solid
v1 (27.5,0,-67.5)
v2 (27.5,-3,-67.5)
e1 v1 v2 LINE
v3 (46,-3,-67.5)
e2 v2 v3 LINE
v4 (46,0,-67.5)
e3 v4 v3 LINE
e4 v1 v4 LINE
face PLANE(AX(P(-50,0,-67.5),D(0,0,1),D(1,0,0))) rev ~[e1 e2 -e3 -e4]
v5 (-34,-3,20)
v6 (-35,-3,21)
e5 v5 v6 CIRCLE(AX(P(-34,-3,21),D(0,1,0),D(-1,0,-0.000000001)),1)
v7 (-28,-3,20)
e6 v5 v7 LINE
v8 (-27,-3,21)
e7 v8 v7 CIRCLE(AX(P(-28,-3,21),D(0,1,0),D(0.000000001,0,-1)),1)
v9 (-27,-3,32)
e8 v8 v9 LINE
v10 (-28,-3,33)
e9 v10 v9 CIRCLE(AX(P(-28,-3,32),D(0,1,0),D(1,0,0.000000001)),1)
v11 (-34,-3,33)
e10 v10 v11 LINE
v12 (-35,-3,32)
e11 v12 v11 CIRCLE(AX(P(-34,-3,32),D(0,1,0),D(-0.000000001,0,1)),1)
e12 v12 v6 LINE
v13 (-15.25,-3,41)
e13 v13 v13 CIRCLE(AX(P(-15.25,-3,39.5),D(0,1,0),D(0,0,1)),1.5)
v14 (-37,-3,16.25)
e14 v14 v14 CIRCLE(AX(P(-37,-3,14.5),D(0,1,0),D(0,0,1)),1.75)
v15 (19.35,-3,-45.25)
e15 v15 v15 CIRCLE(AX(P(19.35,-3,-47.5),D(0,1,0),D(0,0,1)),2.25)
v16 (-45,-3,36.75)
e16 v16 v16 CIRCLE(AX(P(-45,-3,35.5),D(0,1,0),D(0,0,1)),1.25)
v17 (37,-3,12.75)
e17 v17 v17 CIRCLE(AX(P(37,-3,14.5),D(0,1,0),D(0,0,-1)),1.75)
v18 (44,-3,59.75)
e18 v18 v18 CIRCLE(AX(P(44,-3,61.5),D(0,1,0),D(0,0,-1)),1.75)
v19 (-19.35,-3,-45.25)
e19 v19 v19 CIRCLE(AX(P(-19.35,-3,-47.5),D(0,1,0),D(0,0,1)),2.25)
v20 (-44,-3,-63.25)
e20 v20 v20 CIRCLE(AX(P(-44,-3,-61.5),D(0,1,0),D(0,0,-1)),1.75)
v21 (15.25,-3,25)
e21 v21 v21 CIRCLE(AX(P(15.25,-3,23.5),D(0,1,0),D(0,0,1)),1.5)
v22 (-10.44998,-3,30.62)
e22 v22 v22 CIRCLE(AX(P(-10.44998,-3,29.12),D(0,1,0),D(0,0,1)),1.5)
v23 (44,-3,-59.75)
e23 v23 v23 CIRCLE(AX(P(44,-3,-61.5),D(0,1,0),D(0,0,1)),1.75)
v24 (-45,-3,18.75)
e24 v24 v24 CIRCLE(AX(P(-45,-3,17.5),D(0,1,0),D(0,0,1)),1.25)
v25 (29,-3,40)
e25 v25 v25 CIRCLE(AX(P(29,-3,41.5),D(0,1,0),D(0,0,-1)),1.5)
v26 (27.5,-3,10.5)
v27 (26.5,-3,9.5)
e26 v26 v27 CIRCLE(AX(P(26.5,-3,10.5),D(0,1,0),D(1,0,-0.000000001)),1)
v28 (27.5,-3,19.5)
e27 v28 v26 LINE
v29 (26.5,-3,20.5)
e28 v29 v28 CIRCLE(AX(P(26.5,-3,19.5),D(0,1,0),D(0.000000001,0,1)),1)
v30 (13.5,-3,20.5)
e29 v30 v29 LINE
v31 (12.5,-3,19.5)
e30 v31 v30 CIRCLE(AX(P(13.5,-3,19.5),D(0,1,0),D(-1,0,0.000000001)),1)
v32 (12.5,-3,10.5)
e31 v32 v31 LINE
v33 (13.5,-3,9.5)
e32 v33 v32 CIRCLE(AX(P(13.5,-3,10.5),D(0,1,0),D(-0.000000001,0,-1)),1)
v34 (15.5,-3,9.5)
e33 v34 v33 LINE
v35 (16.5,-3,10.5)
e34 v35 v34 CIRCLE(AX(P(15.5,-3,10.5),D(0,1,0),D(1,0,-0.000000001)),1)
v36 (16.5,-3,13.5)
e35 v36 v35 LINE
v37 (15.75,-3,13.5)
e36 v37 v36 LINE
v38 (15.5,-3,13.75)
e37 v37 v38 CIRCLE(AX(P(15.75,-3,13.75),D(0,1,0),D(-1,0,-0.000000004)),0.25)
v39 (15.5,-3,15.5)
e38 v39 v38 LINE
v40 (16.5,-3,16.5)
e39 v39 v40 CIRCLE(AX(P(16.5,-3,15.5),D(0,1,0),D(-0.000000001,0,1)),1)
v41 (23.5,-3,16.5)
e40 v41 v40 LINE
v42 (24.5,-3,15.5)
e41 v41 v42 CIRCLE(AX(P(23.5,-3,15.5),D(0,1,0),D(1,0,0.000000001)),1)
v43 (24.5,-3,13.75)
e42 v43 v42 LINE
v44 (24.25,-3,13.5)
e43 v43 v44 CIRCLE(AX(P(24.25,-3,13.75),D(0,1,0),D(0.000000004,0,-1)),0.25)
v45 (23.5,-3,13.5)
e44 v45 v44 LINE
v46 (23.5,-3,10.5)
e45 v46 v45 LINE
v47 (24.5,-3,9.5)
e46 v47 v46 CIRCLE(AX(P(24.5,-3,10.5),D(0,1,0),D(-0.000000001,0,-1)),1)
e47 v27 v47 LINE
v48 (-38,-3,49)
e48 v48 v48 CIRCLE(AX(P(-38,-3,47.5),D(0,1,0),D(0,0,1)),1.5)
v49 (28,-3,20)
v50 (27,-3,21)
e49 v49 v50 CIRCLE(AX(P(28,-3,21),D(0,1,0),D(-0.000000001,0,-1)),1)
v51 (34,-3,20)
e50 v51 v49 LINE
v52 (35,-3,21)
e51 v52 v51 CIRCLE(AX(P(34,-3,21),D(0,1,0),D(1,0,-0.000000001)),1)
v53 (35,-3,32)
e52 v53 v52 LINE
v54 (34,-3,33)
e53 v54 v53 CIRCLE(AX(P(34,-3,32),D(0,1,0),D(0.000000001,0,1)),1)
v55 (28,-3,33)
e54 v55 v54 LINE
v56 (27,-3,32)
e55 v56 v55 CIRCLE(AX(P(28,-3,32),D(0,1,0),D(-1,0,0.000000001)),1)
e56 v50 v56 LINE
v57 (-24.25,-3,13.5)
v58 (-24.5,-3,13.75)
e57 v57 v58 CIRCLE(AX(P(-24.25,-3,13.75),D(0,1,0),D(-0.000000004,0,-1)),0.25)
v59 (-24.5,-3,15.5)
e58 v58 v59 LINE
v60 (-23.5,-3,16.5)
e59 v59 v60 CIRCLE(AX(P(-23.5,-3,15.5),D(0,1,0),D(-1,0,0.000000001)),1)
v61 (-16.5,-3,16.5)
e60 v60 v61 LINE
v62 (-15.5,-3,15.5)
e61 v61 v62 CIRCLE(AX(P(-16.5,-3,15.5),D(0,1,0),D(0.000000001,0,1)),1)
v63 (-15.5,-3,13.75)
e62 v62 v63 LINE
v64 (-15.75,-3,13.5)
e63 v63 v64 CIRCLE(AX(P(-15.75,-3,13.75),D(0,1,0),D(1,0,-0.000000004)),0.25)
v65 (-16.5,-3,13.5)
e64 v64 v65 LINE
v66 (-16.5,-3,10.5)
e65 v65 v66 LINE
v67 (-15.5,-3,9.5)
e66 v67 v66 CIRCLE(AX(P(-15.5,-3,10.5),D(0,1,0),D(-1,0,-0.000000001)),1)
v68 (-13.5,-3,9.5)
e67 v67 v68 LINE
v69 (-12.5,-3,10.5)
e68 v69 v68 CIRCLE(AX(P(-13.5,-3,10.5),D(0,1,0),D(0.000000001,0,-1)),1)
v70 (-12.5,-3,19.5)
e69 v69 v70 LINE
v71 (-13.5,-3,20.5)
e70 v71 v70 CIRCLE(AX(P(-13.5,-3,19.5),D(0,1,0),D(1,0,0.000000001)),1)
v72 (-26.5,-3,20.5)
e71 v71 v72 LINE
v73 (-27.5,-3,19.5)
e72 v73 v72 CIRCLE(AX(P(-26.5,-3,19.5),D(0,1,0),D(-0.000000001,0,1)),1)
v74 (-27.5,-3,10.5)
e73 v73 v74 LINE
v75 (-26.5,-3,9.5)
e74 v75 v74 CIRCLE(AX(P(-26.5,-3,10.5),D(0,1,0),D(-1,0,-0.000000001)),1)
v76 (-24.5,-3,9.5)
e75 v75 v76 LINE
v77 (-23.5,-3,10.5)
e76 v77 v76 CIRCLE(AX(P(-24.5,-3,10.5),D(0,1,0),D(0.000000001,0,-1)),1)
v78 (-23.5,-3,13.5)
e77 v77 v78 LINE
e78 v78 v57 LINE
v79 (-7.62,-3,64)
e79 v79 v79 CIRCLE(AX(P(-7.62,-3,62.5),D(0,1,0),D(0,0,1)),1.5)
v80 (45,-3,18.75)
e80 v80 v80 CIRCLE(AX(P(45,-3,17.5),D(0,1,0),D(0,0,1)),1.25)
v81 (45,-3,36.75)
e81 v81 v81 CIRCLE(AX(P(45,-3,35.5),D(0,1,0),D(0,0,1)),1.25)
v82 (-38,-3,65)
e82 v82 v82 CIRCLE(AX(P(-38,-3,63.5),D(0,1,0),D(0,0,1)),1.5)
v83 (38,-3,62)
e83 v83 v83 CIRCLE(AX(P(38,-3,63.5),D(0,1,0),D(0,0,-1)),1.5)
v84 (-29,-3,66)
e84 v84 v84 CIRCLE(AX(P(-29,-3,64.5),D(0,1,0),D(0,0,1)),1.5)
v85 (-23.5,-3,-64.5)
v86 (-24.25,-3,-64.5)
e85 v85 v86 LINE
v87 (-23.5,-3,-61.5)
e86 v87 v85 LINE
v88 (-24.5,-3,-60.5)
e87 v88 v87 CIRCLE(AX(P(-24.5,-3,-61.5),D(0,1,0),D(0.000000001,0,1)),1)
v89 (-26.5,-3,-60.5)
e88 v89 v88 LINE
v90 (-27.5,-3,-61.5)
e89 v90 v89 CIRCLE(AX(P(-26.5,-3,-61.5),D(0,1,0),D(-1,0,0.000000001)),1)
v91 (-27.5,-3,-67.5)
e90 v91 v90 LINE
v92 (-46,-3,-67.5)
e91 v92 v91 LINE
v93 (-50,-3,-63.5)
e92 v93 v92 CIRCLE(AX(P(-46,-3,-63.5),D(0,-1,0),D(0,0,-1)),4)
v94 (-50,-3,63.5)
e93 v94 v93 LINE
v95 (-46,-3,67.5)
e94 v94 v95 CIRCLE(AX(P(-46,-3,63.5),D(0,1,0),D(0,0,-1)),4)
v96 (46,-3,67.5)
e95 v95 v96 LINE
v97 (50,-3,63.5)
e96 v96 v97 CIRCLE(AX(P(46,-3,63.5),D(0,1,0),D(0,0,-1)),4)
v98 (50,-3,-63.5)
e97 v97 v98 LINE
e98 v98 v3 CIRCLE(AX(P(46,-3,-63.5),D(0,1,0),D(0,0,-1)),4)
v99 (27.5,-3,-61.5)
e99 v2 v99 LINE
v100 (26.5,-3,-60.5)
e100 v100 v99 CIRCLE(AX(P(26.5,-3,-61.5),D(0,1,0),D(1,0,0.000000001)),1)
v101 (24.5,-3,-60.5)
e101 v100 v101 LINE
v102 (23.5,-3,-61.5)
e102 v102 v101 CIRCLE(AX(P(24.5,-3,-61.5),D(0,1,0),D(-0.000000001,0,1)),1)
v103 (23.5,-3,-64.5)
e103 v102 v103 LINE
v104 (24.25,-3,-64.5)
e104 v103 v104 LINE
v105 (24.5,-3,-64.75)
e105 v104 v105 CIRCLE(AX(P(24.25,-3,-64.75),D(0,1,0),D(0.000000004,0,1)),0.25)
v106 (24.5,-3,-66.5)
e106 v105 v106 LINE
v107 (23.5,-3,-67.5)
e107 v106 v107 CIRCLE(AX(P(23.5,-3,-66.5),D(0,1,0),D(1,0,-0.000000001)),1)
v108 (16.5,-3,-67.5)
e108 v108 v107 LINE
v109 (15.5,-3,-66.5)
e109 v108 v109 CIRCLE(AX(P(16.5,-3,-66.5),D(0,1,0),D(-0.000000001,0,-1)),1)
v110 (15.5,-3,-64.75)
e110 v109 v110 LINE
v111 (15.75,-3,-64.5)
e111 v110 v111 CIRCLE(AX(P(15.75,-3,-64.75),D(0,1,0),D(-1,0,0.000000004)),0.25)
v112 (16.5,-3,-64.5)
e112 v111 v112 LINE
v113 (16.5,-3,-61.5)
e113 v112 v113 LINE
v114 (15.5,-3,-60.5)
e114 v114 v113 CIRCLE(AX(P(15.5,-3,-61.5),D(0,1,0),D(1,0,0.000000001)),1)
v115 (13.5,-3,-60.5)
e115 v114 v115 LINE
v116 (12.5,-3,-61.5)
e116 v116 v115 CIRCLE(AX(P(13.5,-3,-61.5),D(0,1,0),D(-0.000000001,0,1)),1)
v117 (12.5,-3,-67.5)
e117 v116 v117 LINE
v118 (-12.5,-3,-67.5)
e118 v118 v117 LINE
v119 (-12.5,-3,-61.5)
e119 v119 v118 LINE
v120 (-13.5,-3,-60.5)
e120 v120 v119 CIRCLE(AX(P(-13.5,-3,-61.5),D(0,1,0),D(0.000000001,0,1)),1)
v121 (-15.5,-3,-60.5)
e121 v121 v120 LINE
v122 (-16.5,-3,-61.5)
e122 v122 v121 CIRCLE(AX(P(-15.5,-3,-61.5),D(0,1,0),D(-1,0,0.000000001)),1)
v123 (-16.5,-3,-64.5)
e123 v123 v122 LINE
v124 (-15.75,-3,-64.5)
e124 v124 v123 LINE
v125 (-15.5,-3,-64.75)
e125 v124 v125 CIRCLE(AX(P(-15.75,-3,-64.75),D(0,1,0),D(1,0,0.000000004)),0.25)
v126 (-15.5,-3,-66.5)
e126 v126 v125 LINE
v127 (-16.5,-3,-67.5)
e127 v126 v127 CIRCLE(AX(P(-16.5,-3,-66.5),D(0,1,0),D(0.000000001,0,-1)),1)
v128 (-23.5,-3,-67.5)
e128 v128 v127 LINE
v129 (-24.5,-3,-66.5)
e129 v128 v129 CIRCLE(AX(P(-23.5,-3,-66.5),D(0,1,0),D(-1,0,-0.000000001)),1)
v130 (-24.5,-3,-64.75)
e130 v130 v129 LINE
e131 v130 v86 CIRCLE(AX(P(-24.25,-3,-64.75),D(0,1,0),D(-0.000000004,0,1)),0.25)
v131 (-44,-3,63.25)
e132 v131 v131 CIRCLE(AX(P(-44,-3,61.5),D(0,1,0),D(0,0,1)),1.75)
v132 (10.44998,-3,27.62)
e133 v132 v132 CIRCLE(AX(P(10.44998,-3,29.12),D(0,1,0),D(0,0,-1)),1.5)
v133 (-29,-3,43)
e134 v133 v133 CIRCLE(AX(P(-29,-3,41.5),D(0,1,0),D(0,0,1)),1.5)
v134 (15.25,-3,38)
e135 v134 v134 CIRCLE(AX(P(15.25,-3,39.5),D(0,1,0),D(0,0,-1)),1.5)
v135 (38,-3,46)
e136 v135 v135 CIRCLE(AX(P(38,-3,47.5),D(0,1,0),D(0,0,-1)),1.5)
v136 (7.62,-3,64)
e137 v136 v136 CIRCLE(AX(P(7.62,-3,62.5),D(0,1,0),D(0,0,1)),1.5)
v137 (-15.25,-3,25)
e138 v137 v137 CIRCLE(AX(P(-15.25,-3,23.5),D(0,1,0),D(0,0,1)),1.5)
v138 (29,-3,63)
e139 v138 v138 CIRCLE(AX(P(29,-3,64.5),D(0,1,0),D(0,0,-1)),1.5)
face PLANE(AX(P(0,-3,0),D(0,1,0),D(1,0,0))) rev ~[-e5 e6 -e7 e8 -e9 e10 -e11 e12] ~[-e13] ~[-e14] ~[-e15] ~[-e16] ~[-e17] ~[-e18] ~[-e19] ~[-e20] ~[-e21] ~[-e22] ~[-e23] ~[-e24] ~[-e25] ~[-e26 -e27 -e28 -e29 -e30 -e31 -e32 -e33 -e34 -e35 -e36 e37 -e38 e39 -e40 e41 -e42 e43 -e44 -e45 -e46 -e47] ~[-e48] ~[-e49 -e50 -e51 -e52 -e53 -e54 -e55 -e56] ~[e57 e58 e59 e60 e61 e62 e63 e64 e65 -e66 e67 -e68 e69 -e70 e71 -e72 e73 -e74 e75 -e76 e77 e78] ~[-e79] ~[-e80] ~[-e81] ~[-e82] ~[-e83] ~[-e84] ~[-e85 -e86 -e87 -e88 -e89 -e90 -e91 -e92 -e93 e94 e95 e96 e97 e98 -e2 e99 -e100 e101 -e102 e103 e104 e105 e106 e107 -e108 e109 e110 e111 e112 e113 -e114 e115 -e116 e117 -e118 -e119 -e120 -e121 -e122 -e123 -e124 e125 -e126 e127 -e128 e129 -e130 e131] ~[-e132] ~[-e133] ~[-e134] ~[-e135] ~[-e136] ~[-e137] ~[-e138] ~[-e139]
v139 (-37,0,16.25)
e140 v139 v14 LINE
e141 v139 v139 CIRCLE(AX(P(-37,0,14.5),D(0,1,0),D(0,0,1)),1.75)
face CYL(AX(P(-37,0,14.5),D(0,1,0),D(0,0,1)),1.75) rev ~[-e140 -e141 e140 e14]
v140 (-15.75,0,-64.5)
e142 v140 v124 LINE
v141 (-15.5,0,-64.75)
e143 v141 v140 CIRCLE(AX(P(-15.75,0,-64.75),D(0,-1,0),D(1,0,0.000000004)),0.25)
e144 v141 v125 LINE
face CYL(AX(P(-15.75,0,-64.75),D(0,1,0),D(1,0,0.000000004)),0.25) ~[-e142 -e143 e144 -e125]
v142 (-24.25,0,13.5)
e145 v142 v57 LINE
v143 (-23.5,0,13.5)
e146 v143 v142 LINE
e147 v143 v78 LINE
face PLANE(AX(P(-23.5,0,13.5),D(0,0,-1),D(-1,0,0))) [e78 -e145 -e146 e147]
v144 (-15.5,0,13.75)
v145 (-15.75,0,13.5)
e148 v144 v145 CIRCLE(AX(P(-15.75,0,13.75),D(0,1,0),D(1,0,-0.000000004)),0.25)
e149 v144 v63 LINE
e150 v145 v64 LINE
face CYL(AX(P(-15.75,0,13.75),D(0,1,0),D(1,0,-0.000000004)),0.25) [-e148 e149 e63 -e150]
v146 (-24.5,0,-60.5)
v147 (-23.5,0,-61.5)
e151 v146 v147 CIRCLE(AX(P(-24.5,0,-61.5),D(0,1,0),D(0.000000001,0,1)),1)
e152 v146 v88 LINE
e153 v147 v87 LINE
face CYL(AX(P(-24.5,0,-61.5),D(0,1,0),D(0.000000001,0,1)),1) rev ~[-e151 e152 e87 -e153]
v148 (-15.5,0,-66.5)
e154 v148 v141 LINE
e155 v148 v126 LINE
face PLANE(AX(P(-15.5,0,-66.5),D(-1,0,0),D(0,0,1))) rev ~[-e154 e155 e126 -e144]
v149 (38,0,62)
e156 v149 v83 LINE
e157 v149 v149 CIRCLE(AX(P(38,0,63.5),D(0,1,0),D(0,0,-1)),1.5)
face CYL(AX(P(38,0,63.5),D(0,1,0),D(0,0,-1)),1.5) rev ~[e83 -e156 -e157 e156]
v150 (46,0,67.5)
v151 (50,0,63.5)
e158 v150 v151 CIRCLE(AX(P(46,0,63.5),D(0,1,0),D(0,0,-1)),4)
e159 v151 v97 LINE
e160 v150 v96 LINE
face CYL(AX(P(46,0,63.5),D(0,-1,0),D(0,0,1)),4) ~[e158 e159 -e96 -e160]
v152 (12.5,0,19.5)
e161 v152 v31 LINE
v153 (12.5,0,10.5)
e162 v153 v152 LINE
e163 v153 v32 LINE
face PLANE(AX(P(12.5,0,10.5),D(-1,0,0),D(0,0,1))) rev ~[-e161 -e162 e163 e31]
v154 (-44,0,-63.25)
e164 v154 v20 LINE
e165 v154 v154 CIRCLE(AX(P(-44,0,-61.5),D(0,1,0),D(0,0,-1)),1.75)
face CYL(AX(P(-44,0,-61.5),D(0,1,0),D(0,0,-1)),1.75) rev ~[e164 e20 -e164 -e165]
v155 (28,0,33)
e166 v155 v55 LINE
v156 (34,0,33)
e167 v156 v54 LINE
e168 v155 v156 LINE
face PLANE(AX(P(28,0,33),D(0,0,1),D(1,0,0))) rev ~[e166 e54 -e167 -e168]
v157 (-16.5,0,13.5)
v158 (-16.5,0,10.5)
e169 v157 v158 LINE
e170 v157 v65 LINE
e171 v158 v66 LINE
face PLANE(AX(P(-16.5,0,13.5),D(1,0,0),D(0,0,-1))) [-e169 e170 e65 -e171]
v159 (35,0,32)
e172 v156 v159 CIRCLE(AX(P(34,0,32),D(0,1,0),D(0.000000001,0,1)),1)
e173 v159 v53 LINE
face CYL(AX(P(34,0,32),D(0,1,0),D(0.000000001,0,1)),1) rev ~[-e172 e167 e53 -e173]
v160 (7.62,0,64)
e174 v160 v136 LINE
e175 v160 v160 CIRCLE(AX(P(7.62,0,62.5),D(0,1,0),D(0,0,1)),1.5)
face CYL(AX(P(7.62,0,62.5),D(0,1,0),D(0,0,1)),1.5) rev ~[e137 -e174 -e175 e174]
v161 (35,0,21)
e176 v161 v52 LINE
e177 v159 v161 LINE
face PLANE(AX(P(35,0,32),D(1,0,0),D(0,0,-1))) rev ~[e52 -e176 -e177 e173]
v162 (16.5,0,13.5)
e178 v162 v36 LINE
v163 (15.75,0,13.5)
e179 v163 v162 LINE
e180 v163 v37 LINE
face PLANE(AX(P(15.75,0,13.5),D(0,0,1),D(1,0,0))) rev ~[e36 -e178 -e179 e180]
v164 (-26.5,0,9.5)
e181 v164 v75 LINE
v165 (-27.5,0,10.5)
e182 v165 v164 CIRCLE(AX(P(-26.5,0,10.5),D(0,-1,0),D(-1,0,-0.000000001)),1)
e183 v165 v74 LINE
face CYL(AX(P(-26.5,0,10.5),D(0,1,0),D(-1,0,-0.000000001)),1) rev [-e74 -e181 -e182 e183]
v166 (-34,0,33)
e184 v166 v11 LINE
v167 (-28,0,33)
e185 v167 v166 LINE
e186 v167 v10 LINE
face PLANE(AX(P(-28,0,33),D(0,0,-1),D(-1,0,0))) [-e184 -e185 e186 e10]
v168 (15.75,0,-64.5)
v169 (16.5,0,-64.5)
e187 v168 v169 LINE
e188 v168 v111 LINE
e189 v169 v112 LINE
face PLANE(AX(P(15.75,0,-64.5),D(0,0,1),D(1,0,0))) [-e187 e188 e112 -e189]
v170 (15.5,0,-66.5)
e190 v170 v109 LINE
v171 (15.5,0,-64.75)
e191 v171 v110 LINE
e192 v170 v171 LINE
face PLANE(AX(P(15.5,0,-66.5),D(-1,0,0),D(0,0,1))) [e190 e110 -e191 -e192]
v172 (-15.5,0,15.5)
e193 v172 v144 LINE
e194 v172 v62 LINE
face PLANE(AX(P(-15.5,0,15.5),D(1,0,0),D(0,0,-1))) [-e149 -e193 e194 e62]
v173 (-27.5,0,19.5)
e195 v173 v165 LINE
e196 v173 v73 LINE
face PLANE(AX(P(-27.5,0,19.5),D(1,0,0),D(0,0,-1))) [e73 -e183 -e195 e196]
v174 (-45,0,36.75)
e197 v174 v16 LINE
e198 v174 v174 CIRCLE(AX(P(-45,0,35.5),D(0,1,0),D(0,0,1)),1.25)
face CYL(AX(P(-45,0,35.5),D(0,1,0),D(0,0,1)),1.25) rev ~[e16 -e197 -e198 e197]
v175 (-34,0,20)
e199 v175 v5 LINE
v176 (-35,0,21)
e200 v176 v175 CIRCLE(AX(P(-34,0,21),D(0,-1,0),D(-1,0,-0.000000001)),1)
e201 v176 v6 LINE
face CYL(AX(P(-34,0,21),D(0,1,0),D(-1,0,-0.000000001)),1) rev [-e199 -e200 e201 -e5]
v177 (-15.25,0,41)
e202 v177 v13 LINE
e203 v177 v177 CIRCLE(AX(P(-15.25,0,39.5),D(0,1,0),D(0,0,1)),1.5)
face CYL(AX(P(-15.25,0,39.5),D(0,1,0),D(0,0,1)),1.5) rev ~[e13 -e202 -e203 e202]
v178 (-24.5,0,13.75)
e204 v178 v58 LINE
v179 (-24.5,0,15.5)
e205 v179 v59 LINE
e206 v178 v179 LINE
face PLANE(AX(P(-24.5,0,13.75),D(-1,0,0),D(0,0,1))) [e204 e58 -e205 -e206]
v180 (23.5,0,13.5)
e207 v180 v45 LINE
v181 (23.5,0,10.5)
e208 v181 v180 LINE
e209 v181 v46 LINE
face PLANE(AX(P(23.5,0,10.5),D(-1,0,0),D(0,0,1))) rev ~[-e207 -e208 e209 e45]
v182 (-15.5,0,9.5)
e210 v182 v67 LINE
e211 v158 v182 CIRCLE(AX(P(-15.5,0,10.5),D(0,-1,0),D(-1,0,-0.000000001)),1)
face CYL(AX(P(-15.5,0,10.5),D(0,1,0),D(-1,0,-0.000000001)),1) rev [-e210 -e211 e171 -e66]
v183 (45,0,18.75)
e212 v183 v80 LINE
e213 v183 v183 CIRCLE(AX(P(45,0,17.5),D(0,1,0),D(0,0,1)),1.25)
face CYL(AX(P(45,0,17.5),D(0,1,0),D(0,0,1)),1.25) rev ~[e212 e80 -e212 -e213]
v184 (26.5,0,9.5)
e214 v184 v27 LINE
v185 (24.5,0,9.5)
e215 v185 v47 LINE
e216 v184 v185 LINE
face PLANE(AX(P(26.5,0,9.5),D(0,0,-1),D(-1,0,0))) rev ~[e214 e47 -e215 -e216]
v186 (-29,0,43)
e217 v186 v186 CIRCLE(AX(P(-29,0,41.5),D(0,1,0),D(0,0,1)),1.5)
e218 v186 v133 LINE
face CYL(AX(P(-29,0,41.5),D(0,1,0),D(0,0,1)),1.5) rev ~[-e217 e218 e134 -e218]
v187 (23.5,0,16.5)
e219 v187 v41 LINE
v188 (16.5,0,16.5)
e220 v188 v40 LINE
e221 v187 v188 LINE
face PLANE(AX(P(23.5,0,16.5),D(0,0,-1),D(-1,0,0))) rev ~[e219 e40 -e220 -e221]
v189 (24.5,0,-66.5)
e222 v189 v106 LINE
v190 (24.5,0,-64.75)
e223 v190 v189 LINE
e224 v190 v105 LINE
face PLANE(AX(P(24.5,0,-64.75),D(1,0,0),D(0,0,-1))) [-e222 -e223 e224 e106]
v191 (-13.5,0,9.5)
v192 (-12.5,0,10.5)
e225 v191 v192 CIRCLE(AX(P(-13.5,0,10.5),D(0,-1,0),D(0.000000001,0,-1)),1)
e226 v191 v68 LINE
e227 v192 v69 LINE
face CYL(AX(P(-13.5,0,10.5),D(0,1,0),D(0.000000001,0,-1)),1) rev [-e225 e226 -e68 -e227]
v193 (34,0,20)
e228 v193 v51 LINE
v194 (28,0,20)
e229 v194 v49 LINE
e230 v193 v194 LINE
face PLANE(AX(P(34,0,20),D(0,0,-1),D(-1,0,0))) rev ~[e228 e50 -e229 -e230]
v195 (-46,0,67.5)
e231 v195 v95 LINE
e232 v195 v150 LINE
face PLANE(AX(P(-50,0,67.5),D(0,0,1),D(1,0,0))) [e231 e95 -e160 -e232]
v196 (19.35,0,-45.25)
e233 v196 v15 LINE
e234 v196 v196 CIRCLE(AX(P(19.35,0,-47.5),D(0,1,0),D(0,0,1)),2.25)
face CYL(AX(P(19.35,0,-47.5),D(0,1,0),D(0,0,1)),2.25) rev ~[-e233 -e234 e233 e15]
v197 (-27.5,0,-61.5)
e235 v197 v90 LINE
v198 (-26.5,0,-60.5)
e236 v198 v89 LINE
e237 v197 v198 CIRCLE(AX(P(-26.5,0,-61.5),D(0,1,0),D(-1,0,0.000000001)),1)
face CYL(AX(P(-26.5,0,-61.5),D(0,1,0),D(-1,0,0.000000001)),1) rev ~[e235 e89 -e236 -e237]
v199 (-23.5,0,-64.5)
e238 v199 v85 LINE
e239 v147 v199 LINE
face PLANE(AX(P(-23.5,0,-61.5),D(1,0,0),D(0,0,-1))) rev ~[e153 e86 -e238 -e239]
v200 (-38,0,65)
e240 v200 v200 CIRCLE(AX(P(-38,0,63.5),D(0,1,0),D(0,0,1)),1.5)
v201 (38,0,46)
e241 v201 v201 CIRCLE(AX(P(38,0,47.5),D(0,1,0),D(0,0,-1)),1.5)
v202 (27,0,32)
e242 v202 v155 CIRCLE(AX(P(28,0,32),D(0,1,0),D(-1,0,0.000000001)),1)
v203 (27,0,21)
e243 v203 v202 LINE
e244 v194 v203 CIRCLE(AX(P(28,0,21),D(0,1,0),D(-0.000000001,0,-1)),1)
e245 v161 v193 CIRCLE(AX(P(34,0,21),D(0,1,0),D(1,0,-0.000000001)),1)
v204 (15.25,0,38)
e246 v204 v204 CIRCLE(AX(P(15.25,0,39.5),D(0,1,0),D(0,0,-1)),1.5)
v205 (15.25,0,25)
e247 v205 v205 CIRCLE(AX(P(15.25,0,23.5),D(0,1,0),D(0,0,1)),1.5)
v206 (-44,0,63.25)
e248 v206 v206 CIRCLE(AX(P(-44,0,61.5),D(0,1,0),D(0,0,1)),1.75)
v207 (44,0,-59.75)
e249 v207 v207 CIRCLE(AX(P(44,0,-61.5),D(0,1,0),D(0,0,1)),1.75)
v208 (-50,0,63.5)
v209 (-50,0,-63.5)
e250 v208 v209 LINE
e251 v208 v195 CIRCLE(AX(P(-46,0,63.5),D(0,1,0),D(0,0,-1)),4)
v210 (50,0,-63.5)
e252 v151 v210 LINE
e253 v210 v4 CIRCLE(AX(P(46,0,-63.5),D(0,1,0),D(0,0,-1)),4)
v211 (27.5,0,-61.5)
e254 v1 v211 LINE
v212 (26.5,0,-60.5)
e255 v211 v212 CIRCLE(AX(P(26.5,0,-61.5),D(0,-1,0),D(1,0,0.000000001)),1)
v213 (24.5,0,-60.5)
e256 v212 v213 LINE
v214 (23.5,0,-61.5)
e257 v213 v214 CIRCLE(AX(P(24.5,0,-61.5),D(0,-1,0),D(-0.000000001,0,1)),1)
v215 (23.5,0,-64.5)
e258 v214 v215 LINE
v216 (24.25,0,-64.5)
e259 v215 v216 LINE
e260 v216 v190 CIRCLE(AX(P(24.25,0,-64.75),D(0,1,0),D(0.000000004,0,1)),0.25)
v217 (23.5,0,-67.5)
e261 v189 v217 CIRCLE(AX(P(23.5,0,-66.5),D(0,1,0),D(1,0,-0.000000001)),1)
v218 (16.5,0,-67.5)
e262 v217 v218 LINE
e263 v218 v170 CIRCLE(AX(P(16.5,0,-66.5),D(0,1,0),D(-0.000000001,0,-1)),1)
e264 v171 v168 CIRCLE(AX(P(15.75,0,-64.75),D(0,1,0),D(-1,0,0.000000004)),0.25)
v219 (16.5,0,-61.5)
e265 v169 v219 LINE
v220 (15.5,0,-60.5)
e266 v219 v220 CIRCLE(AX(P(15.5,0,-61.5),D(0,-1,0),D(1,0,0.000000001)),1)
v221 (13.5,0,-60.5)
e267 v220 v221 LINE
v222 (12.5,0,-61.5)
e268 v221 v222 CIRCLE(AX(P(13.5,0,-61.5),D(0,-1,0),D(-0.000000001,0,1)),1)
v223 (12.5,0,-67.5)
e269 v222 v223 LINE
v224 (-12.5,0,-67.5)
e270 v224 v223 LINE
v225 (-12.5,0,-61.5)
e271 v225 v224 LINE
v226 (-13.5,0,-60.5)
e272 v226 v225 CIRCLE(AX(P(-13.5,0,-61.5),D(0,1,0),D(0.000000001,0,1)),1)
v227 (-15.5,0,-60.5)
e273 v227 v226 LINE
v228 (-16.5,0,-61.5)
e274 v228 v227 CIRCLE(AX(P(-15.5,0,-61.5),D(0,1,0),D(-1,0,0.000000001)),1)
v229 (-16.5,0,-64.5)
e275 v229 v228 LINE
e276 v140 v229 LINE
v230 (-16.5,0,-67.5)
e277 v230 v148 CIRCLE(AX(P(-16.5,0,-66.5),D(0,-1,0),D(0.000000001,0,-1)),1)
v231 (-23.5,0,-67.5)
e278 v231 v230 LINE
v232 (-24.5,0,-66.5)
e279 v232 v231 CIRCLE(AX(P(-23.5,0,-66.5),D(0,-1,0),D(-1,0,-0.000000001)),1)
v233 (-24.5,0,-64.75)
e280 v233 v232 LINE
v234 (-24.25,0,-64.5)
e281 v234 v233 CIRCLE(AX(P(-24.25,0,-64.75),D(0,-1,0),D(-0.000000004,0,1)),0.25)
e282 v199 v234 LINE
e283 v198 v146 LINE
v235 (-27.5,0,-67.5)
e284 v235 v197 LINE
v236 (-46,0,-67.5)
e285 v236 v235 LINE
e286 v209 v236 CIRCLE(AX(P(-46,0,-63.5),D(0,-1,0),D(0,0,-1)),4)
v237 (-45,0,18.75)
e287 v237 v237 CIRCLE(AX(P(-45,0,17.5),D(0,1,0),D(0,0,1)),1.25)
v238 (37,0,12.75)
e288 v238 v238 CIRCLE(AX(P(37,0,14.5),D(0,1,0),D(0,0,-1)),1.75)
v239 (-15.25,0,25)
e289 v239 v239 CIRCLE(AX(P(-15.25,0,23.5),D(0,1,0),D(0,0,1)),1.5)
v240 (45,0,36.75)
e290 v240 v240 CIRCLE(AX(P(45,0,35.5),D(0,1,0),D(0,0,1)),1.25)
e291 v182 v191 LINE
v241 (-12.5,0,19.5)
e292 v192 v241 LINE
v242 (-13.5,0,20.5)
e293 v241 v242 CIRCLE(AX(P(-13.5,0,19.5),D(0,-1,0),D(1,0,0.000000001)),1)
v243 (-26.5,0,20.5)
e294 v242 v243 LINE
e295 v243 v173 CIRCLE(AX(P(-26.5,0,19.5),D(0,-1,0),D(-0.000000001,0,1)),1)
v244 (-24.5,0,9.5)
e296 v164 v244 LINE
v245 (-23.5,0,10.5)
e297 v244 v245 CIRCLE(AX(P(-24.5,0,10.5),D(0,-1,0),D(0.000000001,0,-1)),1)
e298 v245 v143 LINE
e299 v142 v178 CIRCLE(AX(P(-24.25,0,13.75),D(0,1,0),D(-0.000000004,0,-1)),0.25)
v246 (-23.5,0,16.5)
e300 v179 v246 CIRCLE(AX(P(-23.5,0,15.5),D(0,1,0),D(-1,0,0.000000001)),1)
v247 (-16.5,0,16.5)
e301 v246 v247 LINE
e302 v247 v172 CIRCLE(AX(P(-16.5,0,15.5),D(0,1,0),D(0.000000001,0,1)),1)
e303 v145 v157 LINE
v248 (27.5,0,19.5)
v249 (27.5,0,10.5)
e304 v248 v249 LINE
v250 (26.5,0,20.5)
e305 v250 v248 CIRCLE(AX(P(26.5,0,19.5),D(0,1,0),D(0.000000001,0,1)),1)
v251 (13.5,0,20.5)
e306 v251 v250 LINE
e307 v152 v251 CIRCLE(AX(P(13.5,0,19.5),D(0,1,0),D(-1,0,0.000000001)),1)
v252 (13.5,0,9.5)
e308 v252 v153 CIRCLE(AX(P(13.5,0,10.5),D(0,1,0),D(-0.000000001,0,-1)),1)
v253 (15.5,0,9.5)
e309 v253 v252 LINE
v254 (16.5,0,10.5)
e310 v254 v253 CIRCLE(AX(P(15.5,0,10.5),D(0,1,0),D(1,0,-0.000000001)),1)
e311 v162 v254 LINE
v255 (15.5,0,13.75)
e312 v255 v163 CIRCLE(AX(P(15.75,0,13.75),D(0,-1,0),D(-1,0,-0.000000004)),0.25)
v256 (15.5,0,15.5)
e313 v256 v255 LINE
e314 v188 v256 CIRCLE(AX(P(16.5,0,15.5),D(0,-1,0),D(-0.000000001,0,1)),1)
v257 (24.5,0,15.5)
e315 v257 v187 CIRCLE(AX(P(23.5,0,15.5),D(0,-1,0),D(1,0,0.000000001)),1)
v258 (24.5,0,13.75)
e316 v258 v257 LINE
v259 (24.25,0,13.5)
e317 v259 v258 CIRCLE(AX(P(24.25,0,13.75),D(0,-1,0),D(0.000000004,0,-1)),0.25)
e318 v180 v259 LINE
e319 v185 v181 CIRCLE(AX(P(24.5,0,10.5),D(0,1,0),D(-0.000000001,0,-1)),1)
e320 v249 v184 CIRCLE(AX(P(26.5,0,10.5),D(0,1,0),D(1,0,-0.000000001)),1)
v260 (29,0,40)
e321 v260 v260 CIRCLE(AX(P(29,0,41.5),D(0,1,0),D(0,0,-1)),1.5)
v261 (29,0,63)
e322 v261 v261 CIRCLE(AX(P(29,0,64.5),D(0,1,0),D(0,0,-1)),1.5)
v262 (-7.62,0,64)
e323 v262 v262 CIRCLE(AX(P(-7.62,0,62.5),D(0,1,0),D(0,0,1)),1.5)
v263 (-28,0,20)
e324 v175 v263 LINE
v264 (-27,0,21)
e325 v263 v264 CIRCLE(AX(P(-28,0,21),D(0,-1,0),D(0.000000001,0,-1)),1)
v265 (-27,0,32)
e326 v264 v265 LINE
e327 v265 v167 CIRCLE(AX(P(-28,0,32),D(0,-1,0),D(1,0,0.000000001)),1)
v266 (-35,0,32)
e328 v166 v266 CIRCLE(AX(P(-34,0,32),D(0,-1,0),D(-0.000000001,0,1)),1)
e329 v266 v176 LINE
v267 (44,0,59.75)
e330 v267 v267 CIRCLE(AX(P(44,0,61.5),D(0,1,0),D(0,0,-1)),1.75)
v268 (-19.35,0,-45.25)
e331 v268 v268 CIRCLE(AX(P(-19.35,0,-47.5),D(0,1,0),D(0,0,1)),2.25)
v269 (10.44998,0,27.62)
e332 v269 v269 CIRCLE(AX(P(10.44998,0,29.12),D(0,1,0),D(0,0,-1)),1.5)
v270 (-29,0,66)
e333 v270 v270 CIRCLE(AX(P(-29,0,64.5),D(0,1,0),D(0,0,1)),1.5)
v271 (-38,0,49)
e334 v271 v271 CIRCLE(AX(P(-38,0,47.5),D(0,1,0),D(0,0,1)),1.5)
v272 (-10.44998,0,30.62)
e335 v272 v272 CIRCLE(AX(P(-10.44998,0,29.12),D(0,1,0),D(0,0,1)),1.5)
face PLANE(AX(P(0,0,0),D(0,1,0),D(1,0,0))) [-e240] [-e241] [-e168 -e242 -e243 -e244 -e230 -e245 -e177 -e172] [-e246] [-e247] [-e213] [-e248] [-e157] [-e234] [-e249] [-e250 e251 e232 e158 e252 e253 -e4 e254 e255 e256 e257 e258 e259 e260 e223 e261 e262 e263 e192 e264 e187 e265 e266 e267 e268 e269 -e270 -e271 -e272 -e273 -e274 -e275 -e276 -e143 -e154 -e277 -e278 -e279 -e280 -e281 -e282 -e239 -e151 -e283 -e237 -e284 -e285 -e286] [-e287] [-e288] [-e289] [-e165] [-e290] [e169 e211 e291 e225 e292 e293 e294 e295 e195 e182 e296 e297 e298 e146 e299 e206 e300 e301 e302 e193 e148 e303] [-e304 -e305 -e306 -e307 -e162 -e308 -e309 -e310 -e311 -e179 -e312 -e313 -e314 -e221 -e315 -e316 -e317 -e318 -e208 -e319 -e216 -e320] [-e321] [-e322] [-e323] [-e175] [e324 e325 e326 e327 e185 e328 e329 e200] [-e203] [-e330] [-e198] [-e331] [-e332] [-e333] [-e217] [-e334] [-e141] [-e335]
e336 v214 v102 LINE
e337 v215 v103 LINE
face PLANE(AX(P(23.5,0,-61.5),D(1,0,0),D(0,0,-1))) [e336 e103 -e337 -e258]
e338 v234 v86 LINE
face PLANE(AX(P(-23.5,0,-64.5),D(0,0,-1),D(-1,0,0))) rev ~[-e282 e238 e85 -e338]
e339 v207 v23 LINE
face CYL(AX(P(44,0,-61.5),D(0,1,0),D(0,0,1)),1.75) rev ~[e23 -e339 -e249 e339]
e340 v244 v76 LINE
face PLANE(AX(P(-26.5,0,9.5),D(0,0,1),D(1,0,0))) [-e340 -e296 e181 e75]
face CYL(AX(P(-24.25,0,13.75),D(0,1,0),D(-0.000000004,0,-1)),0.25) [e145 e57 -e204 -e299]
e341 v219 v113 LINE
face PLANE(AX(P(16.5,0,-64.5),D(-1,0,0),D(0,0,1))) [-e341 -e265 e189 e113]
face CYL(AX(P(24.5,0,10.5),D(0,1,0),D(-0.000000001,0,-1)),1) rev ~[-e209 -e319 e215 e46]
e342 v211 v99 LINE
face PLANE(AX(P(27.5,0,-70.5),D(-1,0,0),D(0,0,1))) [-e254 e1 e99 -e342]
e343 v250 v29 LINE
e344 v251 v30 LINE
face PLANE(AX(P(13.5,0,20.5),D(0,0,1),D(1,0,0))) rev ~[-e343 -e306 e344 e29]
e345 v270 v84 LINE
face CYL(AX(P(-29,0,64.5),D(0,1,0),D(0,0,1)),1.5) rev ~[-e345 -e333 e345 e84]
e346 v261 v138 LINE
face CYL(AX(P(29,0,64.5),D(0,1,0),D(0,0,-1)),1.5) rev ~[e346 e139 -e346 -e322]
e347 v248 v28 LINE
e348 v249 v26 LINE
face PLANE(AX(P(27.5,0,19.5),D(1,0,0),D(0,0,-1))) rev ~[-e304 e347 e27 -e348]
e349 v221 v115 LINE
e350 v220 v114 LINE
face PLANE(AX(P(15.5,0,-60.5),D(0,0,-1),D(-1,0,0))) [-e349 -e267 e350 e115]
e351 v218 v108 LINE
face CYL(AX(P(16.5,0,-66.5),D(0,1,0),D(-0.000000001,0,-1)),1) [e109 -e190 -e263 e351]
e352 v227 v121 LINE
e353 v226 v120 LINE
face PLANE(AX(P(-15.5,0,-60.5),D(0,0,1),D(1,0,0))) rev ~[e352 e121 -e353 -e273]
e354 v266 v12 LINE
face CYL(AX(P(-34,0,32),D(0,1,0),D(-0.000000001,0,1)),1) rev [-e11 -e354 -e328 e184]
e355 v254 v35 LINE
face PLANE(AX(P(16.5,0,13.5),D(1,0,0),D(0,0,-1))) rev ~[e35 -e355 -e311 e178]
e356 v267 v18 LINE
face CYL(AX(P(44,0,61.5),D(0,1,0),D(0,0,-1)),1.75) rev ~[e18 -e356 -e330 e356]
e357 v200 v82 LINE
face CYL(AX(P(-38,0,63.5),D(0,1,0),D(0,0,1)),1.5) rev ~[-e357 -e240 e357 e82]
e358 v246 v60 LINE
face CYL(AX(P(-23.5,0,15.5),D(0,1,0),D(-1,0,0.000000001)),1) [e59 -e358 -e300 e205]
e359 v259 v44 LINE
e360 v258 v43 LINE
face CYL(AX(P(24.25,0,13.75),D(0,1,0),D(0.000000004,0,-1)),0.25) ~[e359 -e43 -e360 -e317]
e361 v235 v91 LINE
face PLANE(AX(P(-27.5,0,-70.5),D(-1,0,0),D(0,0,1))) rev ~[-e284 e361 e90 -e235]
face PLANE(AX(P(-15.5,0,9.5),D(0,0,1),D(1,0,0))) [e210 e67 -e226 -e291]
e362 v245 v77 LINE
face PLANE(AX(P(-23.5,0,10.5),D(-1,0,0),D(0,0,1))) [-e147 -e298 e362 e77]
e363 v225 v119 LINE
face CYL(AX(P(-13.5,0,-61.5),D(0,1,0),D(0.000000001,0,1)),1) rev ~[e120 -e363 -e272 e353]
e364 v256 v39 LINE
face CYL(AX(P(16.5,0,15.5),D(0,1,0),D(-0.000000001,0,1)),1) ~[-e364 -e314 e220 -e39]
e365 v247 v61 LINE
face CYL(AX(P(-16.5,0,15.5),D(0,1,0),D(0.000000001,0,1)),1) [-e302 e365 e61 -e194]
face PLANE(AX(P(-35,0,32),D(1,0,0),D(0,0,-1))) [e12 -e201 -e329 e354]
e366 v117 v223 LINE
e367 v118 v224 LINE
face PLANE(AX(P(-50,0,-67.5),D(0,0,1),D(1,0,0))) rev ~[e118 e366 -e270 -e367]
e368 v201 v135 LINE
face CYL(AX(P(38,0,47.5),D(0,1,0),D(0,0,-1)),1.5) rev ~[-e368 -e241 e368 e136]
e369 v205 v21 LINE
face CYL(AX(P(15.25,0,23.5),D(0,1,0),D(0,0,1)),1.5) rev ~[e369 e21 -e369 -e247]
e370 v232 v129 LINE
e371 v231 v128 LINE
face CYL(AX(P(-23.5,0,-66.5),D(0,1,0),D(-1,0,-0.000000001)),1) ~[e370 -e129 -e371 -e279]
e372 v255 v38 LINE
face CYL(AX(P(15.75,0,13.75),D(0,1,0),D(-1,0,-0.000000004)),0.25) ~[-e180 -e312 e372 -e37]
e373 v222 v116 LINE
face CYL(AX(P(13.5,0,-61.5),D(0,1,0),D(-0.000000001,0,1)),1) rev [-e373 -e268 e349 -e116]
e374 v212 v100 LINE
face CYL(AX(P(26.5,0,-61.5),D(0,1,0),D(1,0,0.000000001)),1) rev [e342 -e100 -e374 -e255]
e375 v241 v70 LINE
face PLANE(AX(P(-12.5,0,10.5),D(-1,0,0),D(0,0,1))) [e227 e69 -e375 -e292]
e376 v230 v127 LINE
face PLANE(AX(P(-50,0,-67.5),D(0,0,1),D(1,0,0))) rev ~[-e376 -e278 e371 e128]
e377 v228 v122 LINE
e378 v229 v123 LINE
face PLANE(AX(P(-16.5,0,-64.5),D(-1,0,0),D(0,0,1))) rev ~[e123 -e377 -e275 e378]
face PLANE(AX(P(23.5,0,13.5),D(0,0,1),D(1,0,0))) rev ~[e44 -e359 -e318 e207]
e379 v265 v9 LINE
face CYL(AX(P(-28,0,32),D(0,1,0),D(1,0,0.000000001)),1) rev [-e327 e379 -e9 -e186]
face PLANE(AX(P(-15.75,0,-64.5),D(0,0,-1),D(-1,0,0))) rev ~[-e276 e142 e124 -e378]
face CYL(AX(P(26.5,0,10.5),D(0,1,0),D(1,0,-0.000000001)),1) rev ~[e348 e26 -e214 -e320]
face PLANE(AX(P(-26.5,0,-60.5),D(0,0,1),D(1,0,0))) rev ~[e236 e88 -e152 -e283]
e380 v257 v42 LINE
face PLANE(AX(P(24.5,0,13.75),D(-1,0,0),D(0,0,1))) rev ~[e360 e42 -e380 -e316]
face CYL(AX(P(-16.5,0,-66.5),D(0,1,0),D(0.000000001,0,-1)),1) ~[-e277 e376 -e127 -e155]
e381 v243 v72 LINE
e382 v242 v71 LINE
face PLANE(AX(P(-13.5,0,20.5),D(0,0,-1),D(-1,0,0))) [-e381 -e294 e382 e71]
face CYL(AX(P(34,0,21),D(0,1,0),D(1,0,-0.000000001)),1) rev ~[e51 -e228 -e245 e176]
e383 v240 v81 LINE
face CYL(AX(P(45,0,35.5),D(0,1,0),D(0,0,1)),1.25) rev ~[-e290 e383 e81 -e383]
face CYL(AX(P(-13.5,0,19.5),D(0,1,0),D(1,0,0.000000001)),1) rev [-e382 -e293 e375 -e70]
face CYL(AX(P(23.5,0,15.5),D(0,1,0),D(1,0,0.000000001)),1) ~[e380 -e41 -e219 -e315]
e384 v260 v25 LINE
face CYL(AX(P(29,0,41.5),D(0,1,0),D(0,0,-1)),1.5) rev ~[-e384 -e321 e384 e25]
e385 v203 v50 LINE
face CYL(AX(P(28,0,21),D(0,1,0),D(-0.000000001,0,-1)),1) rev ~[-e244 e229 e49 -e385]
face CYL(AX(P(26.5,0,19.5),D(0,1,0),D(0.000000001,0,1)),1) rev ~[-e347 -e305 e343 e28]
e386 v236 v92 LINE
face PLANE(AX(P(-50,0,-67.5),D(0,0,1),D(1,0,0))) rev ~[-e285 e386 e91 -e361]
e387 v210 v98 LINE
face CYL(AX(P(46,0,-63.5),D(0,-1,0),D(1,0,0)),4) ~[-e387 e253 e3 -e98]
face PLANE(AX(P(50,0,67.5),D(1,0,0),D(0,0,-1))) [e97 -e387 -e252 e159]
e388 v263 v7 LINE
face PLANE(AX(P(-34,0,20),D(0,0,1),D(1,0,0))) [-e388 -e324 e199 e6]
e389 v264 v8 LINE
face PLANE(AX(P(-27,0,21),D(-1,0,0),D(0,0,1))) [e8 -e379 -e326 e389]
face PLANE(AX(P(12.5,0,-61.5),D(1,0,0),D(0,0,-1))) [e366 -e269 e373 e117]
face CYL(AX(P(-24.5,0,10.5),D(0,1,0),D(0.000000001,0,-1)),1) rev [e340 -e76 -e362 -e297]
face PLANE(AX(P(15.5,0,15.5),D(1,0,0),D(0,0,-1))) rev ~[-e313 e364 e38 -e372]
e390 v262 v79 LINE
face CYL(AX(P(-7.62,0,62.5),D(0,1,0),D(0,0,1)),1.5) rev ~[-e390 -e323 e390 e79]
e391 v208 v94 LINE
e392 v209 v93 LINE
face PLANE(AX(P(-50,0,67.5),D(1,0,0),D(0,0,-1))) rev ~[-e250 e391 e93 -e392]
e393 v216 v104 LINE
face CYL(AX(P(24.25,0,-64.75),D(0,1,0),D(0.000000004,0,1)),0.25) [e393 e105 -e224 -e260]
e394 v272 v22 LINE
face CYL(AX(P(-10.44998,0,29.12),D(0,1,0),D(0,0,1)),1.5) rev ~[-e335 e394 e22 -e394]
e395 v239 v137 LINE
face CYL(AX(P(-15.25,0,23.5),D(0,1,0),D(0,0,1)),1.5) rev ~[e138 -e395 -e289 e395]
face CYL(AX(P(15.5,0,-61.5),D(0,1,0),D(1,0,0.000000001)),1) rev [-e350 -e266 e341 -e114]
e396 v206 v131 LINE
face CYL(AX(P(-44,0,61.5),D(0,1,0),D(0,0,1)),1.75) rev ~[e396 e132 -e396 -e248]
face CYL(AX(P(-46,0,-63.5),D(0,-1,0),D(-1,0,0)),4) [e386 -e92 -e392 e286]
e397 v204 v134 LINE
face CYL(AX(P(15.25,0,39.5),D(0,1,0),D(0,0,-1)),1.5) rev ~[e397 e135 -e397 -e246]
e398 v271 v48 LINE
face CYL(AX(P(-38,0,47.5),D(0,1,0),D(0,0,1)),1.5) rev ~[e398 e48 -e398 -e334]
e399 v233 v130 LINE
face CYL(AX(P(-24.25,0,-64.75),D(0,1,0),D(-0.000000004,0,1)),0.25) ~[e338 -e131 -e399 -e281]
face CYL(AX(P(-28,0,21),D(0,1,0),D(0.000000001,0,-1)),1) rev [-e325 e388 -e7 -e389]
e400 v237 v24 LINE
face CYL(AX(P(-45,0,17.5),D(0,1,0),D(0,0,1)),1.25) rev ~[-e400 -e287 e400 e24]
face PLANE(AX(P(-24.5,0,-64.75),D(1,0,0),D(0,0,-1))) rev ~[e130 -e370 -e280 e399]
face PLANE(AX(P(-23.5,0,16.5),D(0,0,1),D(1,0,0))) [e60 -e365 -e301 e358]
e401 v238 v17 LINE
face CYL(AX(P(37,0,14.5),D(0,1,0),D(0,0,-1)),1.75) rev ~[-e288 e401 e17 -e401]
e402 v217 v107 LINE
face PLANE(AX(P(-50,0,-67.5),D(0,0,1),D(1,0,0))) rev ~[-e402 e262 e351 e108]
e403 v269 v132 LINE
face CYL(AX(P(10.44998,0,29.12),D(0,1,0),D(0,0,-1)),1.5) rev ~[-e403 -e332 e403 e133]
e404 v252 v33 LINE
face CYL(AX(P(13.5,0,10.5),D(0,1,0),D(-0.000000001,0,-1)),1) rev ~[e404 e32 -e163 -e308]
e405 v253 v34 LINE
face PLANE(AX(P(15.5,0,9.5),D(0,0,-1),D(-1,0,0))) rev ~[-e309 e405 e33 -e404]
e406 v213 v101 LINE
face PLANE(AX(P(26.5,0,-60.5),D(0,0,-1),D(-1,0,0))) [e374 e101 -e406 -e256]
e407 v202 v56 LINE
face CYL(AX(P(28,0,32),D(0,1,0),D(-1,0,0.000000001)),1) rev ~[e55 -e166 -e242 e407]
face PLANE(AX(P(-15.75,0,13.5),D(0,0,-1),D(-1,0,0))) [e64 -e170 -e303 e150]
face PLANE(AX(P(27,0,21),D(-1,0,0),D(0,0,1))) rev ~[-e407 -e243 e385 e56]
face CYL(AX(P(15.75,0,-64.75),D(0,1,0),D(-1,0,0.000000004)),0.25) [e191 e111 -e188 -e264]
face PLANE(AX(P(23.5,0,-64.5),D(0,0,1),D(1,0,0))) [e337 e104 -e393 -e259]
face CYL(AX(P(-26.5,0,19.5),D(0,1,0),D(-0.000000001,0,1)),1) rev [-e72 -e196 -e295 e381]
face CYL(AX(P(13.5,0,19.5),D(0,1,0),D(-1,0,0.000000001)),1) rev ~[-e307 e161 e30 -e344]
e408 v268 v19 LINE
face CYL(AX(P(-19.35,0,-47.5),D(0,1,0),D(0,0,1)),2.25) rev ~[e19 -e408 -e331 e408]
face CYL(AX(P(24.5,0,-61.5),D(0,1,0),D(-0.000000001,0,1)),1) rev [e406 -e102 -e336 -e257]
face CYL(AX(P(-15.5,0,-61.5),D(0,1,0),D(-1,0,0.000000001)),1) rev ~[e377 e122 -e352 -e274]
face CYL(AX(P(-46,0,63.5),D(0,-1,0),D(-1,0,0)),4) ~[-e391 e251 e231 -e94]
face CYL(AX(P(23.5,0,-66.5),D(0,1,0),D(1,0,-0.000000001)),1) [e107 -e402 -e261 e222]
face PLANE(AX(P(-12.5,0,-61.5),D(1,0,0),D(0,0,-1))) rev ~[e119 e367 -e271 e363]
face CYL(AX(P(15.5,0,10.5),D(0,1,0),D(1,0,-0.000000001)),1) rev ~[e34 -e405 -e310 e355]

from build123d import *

# Parameters (mm, degrees)
SKETCH1_W                  = 100
SKETCH1_H                  = 135
STOCK_DEPTH                = 3
BASE_ROUNDS_R              = 4
SKETCH2_R                  = 1.75
HOLES_LAYERS_DEPTH         = 85.055041491
SKETCH4_R                  = 1.5
HOLES_INTERFACEBOARD_DEPTH = 85.055041491
SKETCH3_R                  = 1.25
HOLES_MOTORBRACKET_DEPTH   = 85.055041491
HOLES_MOTORWIRES_DEPTH     = 85.055041491
SKETCH5_R                  = 2.25
HOLES_BALLCASTER_DEPTH     = 85.055041491
SKETCH6_R                  = 1.5
HOLES_COLOR_IRSENSOR_DEPTH = 85.055041491
STRAPHOLE_POWERBANK_DEPTH  = 85.055041491
SKETCH7_R                  = 1.5
HOLES_PI_DEPTH             = 85.055041491
SKETCH10_R                 = 1.5
HOLES_DCDC_DEPTH           = 85.055041491
SKETCH13_R                 = 1.5
HOLES_IMU_DEPTH            = 85.055041491


with BuildPart() as part:
    # Sketch1 → Stock (new body)
    with BuildSketch(Plane(origin=(0, 0, 0), x_dir=(1, 0, 0), z_dir=(0, 1, 0))):
        Rectangle(SKETCH1_W, SKETCH1_H)
    extrude(amount=-STOCK_DEPTH)

    # base-rounds
    base_rounds_edges = [part.edges().sort_by_distance(p)[0] for p in [
        (50, -1.5, 67.5),
        (50, -1.5, -67.5),
        (-50, -1.5, -67.5),
        (-50, -1.5, 67.5),
    ]]
    fillet(base_rounds_edges, radius=BASE_ROUNDS_R)

    # Sketch2 → holes-layers (cut, through all)
    with BuildSketch(Plane(origin=(0, 0, 0), x_dir=(1, 0, 0), z_dir=(0, 1, 0))):
        with Locations((-44, -61.5)):
            Circle(SKETCH2_R)
        with Locations((-44, 61.5)):
            Circle(SKETCH2_R)
        with Locations((44, -61.5)):
            Circle(SKETCH2_R)
        with Locations((44, 61.5)):
            Circle(SKETCH2_R)
        with Locations((-37, -14.5)):
            Circle(SKETCH2_R)
        with Locations((37, -14.5)):
            Circle(SKETCH2_R)
    extrude(amount=-HOLES_LAYERS_DEPTH, mode=Mode.SUBTRACT)

    # Sketch4 → holes-interfaceboard (cut, through all)
    with BuildSketch(Plane(origin=(0, 0, 0), x_dir=(1, 0, 0), z_dir=(0, 1, 0))):
        with Locations((-38, -63.5)):
            Circle(SKETCH4_R)
        with Locations((-38, -47.5)):
            Circle(SKETCH4_R)
        with Locations((38, -47.5)):
            Circle(SKETCH4_R)
        with Locations((38, -63.5)):
            Circle(SKETCH4_R)
    extrude(amount=-HOLES_INTERFACEBOARD_DEPTH, mode=Mode.SUBTRACT)

    # Sketch3 → holes-motorbracket (cut, through all)
    with BuildSketch(Plane(origin=(0, 0, 0), x_dir=(1, 0, 0), z_dir=(0, 1, 0))):
        with Locations((-45, -35.5)):
            Circle(SKETCH3_R)
        with Locations((-45, -17.5)):
            Circle(SKETCH3_R)
        with Locations((45, -17.5)):
            Circle(SKETCH3_R)
        with Locations((45, -35.5)):
            Circle(SKETCH3_R)
    extrude(amount=-HOLES_MOTORBRACKET_DEPTH, mode=Mode.SUBTRACT)

    # Sketch11 → holes-motorwires (cut, through all)
    with BuildSketch(Plane(origin=(0, 0, 0), x_dir=(1, 0, 0), z_dir=(0, 1, 0))):
        with BuildLine():
            Line((-34, -20), (-28, -20))
            ThreePointArc((-28, -20), (-27.292893219, -20.292893219), (-27, -21))
            Line((-27, -21), (-27, -32))
            ThreePointArc((-27, -32), (-27.292893219, -32.707106781), (-28, -33))
            Line((-28, -33), (-34, -33))
            ThreePointArc((-34, -33), (-34.707106781, -32.707106781), (-35, -32))
            Line((-35, -32), (-35, -21))
            ThreePointArc((-35, -21), (-34.707106781, -20.292893219), (-34, -20))
        make_face()
        with BuildLine():
            Line((27, -21), (27, -32))
            ThreePointArc((27, -32), (27.292893219, -32.707106781), (28, -33))
            Line((28, -33), (34, -33))
            ThreePointArc((34, -33), (34.707106781, -32.707106781), (35, -32))
            Line((35, -32), (35, -21))
            ThreePointArc((35, -21), (34.707106781, -20.292893219), (34, -20))
            Line((34, -20), (28, -20))
            ThreePointArc((28, -20), (27.292893219, -20.292893219), (27, -21))
        make_face()
    extrude(amount=-HOLES_MOTORWIRES_DEPTH, mode=Mode.SUBTRACT)

    # Sketch5 → holes-ballcaster (cut, through all)
    with BuildSketch(Plane(origin=(0, 0, 0), x_dir=(1, 0, 0), z_dir=(0, 1, 0))):
        with Locations((-19.35, 47.5)):
            Circle(SKETCH5_R)
        with Locations((19.35, 47.5)):
            Circle(SKETCH5_R)
    extrude(amount=-HOLES_BALLCASTER_DEPTH, mode=Mode.SUBTRACT)

    # Sketch6 → holes-color/irsensor (cut, through all)
    with BuildSketch(Plane(origin=(0, 0, 0), x_dir=(1, 0, 0), z_dir=(0, 1, 0))):
        with Locations((-7.62, -62.5)):
            Circle(SKETCH6_R)
        with Locations((7.62, -62.5)):
            Circle(SKETCH6_R)
    extrude(amount=-HOLES_COLOR_IRSENSOR_DEPTH, mode=Mode.SUBTRACT)

    # Sketch8 → straphole-powerbank (cut, through all)
    with BuildSketch(Plane(origin=(0, 0, 0), x_dir=(1, 0, 0), z_dir=(0, 1, 0))):
        with BuildLine():
            Line((-15.5, -9.5), (-13.5, -9.5))
            ThreePointArc((-13.5, -9.5), (-12.792893219, -9.792893219), (-12.5, -10.5))
            Line((-12.5, -10.5), (-12.5, -19.5))
            ThreePointArc((-12.5, -19.5), (-12.792893219, -20.207106781), (-13.5, -20.5))
            Line((-13.5, -20.5), (-26.5, -20.5))
            ThreePointArc((-26.5, -20.5), (-27.207106781, -20.207106781), (-27.5, -19.5))
            Line((-27.5, -19.5), (-27.5, -10.5))
            ThreePointArc((-27.5, -10.5), (-27.207106781, -9.792893219), (-26.5, -9.5))
            Line((-26.5, -9.5), (-24.5, -9.5))
            ThreePointArc((-24.5, -9.5), (-23.792893219, -9.792893219), (-23.5, -10.5))
            Line((-23.5, -10.5), (-23.5, -13.5))
            Line((-23.5, -13.5), (-24.25, -13.5))
            ThreePointArc((-24.25, -13.5), (-24.426776695, -13.573223305), (-24.5, -13.75))
            Line((-24.5, -13.75), (-24.5, -15.5))
            ThreePointArc((-24.5, -15.5), (-24.207106781, -16.207106781), (-23.5, -16.5))
            Line((-23.5, -16.5), (-16.5, -16.5))
            ThreePointArc((-16.5, -16.5), (-15.792893219, -16.207106781), (-15.5, -15.5))
            Line((-15.5, -15.5), (-15.5, -13.75))
            ThreePointArc((-15.5, -13.75), (-15.573223305, -13.573223305), (-15.75, -13.5))
            Line((-15.75, -13.5), (-16.5, -13.5))
            Line((-16.5, -13.5), (-16.5, -10.5))
            ThreePointArc((-16.5, -10.5), (-16.207106781, -9.792893219), (-15.5, -9.5))
        make_face()
        with BuildLine():
            Line((15.5, -15.5), (15.5, -13.75))
            ThreePointArc((15.5, -13.75), (15.573223305, -13.573223305), (15.75, -13.5))
            Line((15.75, -13.5), (16.5, -13.5))
            Line((16.5, -13.5), (16.5, -10.5))
            ThreePointArc((16.5, -10.5), (16.207106781, -9.792893219), (15.5, -9.5))
            Line((15.5, -9.5), (13.5, -9.5))
            ThreePointArc((13.5, -9.5), (12.792893219, -9.792893219), (12.5, -10.5))
            Line((12.5, -10.5), (12.5, -19.5))
            ThreePointArc((12.5, -19.5), (12.792893219, -20.207106781), (13.5, -20.5))
            Line((13.5, -20.5), (26.5, -20.5))
            ThreePointArc((26.5, -20.5), (27.207106781, -20.207106781), (27.5, -19.5))
            Line((27.5, -19.5), (27.5, -10.5))
            ThreePointArc((27.5, -10.5), (27.207106781, -9.792893219), (26.5, -9.5))
            Line((26.5, -9.5), (24.5, -9.5))
            ThreePointArc((24.5, -9.5), (23.792893219, -9.792893219), (23.5, -10.5))
            Line((23.5, -10.5), (23.5, -13.5))
            Line((23.5, -13.5), (24.25, -13.5))
            ThreePointArc((24.25, -13.5), (24.426776695, -13.573223305), (24.5, -13.75))
            Line((24.5, -13.75), (24.5, -15.5))
            ThreePointArc((24.5, -15.5), (24.207106781, -16.207106781), (23.5, -16.5))
            Line((23.5, -16.5), (16.5, -16.5))
            ThreePointArc((16.5, -16.5), (15.792893219, -16.207106781), (15.5, -15.5))
        make_face()
        with BuildLine():
            Line((-15.5, 66.5), (-15.5, 64.75))
            ThreePointArc((-15.5, 64.75), (-15.573223305, 64.573223305), (-15.75, 64.5))
            Line((-15.75, 64.5), (-16.5, 64.5))
            Line((-16.5, 64.5), (-16.5, 61.5))
            ThreePointArc((-16.5, 61.5), (-16.207106781, 60.792893219), (-15.5, 60.5))
            Line((-15.5, 60.5), (-13.5, 60.5))
            ThreePointArc((-13.5, 60.5), (-12.792893219, 60.792893219), (-12.5, 61.5))
            Line((-12.5, 61.5), (-12.5, 70.5))
            ThreePointArc((-12.5, 70.5), (-12.792893219, 71.207106781), (-13.5, 71.5))
            Line((-13.5, 71.5), (-26.5, 71.5))
            ThreePointArc((-26.5, 71.5), (-27.207106781, 71.207106781), (-27.5, 70.5))
            Line((-27.5, 70.5), (-27.5, 61.5))
            ThreePointArc((-27.5, 61.5), (-27.207106781, 60.792893219), (-26.5, 60.5))
            Line((-26.5, 60.5), (-24.5, 60.5))
            ThreePointArc((-24.5, 60.5), (-23.792893219, 60.792893219), (-23.5, 61.5))
            Line((-23.5, 61.5), (-23.5, 64.5))
            Line((-23.5, 64.5), (-24.25, 64.5))
            ThreePointArc((-24.25, 64.5), (-24.426776695, 64.573223305), (-24.5, 64.75))
            Line((-24.5, 64.75), (-24.5, 66.5))
            ThreePointArc((-24.5, 66.5), (-24.207106781, 67.207106781), (-23.5, 67.5))
            Line((-23.5, 67.5), (-16.5, 67.5))
            ThreePointArc((-16.5, 67.5), (-15.792893219, 67.207106781), (-15.5, 66.5))
        make_face()
        with BuildLine():
            Line((15.5, 60.5), (13.5, 60.5))
            ThreePointArc((13.5, 60.5), (12.792893219, 60.792893219), (12.5, 61.5))
            Line((12.5, 61.5), (12.5, 70.5))
            ThreePointArc((12.5, 70.5), (12.792893219, 71.207106781), (13.5, 71.5))
            Line((13.5, 71.5), (26.5, 71.5))
            ThreePointArc((26.5, 71.5), (27.207106781, 71.207106781), (27.5, 70.5))
            Line((27.5, 70.5), (27.5, 61.5))
            ThreePointArc((27.5, 61.5), (27.207106781, 60.792893219), (26.5, 60.5))
            Line((26.5, 60.5), (24.5, 60.5))
            ThreePointArc((24.5, 60.5), (23.792893219, 60.792893219), (23.5, 61.5))
            Line((23.5, 61.5), (23.5, 64.5))
            Line((23.5, 64.5), (24.25, 64.5))
            ThreePointArc((24.25, 64.5), (24.426776695, 64.573223305), (24.5, 64.75))
            Line((24.5, 64.75), (24.5, 66.5))
            ThreePointArc((24.5, 66.5), (24.207106781, 67.207106781), (23.5, 67.5))
            Line((23.5, 67.5), (16.5, 67.5))
            ThreePointArc((16.5, 67.5), (15.792893219, 67.207106781), (15.5, 66.5))
            Line((15.5, 66.5), (15.5, 64.75))
            ThreePointArc((15.5, 64.75), (15.573223305, 64.573223305), (15.75, 64.5))
            Line((15.75, 64.5), (16.5, 64.5))
            Line((16.5, 64.5), (16.5, 61.5))
            ThreePointArc((16.5, 61.5), (16.207106781, 60.792893219), (15.5, 60.5))
        make_face()
    extrude(amount=-STRAPHOLE_POWERBANK_DEPTH, mode=Mode.SUBTRACT)

    # Sketch7 → holes-pi (cut, through all)
    with BuildSketch(Plane(origin=(0, 0, 0), x_dir=(1, 0, 0), z_dir=(0, 1, 0))):
        with Locations((-29, -64.5)):
            Circle(SKETCH7_R)
        with Locations((-29, -41.5)):
            Circle(SKETCH7_R)
        with Locations((29, -64.5)):
            Circle(SKETCH7_R)
        with Locations((29, -41.5)):
            Circle(SKETCH7_R)
    extrude(amount=-HOLES_PI_DEPTH, mode=Mode.SUBTRACT)

    # Sketch10 → holes-dcdc (cut, through all)
    with BuildSketch(Plane(origin=(0, 0, 0), x_dir=(1, 0, 0), z_dir=(0, 1, 0))):
        with Locations((-15.25, -23.5)):
            Circle(SKETCH10_R)
        with Locations((15.25, -39.5)):
            Circle(SKETCH10_R)
        with Locations((-15.25, -39.5)):
            Circle(SKETCH10_R)
        with Locations((15.25, -23.5)):
            Circle(SKETCH10_R)
    extrude(amount=-HOLES_DCDC_DEPTH, mode=Mode.SUBTRACT)

    # Sketch13 → holes-IMU (cut, through all)
    with BuildSketch(Plane(origin=(0, 0, 0), x_dir=(1, 0, 0), z_dir=(0, 1, 0))):
        with Locations((-10.44998, -29.12)):
            Circle(SKETCH13_R)
        with Locations((10.44998, -29.12)):
            Circle(SKETCH13_R)
    extrude(amount=-HOLES_IMU_DEPTH, mode=Mode.SUBTRACT)


solid = part.part
